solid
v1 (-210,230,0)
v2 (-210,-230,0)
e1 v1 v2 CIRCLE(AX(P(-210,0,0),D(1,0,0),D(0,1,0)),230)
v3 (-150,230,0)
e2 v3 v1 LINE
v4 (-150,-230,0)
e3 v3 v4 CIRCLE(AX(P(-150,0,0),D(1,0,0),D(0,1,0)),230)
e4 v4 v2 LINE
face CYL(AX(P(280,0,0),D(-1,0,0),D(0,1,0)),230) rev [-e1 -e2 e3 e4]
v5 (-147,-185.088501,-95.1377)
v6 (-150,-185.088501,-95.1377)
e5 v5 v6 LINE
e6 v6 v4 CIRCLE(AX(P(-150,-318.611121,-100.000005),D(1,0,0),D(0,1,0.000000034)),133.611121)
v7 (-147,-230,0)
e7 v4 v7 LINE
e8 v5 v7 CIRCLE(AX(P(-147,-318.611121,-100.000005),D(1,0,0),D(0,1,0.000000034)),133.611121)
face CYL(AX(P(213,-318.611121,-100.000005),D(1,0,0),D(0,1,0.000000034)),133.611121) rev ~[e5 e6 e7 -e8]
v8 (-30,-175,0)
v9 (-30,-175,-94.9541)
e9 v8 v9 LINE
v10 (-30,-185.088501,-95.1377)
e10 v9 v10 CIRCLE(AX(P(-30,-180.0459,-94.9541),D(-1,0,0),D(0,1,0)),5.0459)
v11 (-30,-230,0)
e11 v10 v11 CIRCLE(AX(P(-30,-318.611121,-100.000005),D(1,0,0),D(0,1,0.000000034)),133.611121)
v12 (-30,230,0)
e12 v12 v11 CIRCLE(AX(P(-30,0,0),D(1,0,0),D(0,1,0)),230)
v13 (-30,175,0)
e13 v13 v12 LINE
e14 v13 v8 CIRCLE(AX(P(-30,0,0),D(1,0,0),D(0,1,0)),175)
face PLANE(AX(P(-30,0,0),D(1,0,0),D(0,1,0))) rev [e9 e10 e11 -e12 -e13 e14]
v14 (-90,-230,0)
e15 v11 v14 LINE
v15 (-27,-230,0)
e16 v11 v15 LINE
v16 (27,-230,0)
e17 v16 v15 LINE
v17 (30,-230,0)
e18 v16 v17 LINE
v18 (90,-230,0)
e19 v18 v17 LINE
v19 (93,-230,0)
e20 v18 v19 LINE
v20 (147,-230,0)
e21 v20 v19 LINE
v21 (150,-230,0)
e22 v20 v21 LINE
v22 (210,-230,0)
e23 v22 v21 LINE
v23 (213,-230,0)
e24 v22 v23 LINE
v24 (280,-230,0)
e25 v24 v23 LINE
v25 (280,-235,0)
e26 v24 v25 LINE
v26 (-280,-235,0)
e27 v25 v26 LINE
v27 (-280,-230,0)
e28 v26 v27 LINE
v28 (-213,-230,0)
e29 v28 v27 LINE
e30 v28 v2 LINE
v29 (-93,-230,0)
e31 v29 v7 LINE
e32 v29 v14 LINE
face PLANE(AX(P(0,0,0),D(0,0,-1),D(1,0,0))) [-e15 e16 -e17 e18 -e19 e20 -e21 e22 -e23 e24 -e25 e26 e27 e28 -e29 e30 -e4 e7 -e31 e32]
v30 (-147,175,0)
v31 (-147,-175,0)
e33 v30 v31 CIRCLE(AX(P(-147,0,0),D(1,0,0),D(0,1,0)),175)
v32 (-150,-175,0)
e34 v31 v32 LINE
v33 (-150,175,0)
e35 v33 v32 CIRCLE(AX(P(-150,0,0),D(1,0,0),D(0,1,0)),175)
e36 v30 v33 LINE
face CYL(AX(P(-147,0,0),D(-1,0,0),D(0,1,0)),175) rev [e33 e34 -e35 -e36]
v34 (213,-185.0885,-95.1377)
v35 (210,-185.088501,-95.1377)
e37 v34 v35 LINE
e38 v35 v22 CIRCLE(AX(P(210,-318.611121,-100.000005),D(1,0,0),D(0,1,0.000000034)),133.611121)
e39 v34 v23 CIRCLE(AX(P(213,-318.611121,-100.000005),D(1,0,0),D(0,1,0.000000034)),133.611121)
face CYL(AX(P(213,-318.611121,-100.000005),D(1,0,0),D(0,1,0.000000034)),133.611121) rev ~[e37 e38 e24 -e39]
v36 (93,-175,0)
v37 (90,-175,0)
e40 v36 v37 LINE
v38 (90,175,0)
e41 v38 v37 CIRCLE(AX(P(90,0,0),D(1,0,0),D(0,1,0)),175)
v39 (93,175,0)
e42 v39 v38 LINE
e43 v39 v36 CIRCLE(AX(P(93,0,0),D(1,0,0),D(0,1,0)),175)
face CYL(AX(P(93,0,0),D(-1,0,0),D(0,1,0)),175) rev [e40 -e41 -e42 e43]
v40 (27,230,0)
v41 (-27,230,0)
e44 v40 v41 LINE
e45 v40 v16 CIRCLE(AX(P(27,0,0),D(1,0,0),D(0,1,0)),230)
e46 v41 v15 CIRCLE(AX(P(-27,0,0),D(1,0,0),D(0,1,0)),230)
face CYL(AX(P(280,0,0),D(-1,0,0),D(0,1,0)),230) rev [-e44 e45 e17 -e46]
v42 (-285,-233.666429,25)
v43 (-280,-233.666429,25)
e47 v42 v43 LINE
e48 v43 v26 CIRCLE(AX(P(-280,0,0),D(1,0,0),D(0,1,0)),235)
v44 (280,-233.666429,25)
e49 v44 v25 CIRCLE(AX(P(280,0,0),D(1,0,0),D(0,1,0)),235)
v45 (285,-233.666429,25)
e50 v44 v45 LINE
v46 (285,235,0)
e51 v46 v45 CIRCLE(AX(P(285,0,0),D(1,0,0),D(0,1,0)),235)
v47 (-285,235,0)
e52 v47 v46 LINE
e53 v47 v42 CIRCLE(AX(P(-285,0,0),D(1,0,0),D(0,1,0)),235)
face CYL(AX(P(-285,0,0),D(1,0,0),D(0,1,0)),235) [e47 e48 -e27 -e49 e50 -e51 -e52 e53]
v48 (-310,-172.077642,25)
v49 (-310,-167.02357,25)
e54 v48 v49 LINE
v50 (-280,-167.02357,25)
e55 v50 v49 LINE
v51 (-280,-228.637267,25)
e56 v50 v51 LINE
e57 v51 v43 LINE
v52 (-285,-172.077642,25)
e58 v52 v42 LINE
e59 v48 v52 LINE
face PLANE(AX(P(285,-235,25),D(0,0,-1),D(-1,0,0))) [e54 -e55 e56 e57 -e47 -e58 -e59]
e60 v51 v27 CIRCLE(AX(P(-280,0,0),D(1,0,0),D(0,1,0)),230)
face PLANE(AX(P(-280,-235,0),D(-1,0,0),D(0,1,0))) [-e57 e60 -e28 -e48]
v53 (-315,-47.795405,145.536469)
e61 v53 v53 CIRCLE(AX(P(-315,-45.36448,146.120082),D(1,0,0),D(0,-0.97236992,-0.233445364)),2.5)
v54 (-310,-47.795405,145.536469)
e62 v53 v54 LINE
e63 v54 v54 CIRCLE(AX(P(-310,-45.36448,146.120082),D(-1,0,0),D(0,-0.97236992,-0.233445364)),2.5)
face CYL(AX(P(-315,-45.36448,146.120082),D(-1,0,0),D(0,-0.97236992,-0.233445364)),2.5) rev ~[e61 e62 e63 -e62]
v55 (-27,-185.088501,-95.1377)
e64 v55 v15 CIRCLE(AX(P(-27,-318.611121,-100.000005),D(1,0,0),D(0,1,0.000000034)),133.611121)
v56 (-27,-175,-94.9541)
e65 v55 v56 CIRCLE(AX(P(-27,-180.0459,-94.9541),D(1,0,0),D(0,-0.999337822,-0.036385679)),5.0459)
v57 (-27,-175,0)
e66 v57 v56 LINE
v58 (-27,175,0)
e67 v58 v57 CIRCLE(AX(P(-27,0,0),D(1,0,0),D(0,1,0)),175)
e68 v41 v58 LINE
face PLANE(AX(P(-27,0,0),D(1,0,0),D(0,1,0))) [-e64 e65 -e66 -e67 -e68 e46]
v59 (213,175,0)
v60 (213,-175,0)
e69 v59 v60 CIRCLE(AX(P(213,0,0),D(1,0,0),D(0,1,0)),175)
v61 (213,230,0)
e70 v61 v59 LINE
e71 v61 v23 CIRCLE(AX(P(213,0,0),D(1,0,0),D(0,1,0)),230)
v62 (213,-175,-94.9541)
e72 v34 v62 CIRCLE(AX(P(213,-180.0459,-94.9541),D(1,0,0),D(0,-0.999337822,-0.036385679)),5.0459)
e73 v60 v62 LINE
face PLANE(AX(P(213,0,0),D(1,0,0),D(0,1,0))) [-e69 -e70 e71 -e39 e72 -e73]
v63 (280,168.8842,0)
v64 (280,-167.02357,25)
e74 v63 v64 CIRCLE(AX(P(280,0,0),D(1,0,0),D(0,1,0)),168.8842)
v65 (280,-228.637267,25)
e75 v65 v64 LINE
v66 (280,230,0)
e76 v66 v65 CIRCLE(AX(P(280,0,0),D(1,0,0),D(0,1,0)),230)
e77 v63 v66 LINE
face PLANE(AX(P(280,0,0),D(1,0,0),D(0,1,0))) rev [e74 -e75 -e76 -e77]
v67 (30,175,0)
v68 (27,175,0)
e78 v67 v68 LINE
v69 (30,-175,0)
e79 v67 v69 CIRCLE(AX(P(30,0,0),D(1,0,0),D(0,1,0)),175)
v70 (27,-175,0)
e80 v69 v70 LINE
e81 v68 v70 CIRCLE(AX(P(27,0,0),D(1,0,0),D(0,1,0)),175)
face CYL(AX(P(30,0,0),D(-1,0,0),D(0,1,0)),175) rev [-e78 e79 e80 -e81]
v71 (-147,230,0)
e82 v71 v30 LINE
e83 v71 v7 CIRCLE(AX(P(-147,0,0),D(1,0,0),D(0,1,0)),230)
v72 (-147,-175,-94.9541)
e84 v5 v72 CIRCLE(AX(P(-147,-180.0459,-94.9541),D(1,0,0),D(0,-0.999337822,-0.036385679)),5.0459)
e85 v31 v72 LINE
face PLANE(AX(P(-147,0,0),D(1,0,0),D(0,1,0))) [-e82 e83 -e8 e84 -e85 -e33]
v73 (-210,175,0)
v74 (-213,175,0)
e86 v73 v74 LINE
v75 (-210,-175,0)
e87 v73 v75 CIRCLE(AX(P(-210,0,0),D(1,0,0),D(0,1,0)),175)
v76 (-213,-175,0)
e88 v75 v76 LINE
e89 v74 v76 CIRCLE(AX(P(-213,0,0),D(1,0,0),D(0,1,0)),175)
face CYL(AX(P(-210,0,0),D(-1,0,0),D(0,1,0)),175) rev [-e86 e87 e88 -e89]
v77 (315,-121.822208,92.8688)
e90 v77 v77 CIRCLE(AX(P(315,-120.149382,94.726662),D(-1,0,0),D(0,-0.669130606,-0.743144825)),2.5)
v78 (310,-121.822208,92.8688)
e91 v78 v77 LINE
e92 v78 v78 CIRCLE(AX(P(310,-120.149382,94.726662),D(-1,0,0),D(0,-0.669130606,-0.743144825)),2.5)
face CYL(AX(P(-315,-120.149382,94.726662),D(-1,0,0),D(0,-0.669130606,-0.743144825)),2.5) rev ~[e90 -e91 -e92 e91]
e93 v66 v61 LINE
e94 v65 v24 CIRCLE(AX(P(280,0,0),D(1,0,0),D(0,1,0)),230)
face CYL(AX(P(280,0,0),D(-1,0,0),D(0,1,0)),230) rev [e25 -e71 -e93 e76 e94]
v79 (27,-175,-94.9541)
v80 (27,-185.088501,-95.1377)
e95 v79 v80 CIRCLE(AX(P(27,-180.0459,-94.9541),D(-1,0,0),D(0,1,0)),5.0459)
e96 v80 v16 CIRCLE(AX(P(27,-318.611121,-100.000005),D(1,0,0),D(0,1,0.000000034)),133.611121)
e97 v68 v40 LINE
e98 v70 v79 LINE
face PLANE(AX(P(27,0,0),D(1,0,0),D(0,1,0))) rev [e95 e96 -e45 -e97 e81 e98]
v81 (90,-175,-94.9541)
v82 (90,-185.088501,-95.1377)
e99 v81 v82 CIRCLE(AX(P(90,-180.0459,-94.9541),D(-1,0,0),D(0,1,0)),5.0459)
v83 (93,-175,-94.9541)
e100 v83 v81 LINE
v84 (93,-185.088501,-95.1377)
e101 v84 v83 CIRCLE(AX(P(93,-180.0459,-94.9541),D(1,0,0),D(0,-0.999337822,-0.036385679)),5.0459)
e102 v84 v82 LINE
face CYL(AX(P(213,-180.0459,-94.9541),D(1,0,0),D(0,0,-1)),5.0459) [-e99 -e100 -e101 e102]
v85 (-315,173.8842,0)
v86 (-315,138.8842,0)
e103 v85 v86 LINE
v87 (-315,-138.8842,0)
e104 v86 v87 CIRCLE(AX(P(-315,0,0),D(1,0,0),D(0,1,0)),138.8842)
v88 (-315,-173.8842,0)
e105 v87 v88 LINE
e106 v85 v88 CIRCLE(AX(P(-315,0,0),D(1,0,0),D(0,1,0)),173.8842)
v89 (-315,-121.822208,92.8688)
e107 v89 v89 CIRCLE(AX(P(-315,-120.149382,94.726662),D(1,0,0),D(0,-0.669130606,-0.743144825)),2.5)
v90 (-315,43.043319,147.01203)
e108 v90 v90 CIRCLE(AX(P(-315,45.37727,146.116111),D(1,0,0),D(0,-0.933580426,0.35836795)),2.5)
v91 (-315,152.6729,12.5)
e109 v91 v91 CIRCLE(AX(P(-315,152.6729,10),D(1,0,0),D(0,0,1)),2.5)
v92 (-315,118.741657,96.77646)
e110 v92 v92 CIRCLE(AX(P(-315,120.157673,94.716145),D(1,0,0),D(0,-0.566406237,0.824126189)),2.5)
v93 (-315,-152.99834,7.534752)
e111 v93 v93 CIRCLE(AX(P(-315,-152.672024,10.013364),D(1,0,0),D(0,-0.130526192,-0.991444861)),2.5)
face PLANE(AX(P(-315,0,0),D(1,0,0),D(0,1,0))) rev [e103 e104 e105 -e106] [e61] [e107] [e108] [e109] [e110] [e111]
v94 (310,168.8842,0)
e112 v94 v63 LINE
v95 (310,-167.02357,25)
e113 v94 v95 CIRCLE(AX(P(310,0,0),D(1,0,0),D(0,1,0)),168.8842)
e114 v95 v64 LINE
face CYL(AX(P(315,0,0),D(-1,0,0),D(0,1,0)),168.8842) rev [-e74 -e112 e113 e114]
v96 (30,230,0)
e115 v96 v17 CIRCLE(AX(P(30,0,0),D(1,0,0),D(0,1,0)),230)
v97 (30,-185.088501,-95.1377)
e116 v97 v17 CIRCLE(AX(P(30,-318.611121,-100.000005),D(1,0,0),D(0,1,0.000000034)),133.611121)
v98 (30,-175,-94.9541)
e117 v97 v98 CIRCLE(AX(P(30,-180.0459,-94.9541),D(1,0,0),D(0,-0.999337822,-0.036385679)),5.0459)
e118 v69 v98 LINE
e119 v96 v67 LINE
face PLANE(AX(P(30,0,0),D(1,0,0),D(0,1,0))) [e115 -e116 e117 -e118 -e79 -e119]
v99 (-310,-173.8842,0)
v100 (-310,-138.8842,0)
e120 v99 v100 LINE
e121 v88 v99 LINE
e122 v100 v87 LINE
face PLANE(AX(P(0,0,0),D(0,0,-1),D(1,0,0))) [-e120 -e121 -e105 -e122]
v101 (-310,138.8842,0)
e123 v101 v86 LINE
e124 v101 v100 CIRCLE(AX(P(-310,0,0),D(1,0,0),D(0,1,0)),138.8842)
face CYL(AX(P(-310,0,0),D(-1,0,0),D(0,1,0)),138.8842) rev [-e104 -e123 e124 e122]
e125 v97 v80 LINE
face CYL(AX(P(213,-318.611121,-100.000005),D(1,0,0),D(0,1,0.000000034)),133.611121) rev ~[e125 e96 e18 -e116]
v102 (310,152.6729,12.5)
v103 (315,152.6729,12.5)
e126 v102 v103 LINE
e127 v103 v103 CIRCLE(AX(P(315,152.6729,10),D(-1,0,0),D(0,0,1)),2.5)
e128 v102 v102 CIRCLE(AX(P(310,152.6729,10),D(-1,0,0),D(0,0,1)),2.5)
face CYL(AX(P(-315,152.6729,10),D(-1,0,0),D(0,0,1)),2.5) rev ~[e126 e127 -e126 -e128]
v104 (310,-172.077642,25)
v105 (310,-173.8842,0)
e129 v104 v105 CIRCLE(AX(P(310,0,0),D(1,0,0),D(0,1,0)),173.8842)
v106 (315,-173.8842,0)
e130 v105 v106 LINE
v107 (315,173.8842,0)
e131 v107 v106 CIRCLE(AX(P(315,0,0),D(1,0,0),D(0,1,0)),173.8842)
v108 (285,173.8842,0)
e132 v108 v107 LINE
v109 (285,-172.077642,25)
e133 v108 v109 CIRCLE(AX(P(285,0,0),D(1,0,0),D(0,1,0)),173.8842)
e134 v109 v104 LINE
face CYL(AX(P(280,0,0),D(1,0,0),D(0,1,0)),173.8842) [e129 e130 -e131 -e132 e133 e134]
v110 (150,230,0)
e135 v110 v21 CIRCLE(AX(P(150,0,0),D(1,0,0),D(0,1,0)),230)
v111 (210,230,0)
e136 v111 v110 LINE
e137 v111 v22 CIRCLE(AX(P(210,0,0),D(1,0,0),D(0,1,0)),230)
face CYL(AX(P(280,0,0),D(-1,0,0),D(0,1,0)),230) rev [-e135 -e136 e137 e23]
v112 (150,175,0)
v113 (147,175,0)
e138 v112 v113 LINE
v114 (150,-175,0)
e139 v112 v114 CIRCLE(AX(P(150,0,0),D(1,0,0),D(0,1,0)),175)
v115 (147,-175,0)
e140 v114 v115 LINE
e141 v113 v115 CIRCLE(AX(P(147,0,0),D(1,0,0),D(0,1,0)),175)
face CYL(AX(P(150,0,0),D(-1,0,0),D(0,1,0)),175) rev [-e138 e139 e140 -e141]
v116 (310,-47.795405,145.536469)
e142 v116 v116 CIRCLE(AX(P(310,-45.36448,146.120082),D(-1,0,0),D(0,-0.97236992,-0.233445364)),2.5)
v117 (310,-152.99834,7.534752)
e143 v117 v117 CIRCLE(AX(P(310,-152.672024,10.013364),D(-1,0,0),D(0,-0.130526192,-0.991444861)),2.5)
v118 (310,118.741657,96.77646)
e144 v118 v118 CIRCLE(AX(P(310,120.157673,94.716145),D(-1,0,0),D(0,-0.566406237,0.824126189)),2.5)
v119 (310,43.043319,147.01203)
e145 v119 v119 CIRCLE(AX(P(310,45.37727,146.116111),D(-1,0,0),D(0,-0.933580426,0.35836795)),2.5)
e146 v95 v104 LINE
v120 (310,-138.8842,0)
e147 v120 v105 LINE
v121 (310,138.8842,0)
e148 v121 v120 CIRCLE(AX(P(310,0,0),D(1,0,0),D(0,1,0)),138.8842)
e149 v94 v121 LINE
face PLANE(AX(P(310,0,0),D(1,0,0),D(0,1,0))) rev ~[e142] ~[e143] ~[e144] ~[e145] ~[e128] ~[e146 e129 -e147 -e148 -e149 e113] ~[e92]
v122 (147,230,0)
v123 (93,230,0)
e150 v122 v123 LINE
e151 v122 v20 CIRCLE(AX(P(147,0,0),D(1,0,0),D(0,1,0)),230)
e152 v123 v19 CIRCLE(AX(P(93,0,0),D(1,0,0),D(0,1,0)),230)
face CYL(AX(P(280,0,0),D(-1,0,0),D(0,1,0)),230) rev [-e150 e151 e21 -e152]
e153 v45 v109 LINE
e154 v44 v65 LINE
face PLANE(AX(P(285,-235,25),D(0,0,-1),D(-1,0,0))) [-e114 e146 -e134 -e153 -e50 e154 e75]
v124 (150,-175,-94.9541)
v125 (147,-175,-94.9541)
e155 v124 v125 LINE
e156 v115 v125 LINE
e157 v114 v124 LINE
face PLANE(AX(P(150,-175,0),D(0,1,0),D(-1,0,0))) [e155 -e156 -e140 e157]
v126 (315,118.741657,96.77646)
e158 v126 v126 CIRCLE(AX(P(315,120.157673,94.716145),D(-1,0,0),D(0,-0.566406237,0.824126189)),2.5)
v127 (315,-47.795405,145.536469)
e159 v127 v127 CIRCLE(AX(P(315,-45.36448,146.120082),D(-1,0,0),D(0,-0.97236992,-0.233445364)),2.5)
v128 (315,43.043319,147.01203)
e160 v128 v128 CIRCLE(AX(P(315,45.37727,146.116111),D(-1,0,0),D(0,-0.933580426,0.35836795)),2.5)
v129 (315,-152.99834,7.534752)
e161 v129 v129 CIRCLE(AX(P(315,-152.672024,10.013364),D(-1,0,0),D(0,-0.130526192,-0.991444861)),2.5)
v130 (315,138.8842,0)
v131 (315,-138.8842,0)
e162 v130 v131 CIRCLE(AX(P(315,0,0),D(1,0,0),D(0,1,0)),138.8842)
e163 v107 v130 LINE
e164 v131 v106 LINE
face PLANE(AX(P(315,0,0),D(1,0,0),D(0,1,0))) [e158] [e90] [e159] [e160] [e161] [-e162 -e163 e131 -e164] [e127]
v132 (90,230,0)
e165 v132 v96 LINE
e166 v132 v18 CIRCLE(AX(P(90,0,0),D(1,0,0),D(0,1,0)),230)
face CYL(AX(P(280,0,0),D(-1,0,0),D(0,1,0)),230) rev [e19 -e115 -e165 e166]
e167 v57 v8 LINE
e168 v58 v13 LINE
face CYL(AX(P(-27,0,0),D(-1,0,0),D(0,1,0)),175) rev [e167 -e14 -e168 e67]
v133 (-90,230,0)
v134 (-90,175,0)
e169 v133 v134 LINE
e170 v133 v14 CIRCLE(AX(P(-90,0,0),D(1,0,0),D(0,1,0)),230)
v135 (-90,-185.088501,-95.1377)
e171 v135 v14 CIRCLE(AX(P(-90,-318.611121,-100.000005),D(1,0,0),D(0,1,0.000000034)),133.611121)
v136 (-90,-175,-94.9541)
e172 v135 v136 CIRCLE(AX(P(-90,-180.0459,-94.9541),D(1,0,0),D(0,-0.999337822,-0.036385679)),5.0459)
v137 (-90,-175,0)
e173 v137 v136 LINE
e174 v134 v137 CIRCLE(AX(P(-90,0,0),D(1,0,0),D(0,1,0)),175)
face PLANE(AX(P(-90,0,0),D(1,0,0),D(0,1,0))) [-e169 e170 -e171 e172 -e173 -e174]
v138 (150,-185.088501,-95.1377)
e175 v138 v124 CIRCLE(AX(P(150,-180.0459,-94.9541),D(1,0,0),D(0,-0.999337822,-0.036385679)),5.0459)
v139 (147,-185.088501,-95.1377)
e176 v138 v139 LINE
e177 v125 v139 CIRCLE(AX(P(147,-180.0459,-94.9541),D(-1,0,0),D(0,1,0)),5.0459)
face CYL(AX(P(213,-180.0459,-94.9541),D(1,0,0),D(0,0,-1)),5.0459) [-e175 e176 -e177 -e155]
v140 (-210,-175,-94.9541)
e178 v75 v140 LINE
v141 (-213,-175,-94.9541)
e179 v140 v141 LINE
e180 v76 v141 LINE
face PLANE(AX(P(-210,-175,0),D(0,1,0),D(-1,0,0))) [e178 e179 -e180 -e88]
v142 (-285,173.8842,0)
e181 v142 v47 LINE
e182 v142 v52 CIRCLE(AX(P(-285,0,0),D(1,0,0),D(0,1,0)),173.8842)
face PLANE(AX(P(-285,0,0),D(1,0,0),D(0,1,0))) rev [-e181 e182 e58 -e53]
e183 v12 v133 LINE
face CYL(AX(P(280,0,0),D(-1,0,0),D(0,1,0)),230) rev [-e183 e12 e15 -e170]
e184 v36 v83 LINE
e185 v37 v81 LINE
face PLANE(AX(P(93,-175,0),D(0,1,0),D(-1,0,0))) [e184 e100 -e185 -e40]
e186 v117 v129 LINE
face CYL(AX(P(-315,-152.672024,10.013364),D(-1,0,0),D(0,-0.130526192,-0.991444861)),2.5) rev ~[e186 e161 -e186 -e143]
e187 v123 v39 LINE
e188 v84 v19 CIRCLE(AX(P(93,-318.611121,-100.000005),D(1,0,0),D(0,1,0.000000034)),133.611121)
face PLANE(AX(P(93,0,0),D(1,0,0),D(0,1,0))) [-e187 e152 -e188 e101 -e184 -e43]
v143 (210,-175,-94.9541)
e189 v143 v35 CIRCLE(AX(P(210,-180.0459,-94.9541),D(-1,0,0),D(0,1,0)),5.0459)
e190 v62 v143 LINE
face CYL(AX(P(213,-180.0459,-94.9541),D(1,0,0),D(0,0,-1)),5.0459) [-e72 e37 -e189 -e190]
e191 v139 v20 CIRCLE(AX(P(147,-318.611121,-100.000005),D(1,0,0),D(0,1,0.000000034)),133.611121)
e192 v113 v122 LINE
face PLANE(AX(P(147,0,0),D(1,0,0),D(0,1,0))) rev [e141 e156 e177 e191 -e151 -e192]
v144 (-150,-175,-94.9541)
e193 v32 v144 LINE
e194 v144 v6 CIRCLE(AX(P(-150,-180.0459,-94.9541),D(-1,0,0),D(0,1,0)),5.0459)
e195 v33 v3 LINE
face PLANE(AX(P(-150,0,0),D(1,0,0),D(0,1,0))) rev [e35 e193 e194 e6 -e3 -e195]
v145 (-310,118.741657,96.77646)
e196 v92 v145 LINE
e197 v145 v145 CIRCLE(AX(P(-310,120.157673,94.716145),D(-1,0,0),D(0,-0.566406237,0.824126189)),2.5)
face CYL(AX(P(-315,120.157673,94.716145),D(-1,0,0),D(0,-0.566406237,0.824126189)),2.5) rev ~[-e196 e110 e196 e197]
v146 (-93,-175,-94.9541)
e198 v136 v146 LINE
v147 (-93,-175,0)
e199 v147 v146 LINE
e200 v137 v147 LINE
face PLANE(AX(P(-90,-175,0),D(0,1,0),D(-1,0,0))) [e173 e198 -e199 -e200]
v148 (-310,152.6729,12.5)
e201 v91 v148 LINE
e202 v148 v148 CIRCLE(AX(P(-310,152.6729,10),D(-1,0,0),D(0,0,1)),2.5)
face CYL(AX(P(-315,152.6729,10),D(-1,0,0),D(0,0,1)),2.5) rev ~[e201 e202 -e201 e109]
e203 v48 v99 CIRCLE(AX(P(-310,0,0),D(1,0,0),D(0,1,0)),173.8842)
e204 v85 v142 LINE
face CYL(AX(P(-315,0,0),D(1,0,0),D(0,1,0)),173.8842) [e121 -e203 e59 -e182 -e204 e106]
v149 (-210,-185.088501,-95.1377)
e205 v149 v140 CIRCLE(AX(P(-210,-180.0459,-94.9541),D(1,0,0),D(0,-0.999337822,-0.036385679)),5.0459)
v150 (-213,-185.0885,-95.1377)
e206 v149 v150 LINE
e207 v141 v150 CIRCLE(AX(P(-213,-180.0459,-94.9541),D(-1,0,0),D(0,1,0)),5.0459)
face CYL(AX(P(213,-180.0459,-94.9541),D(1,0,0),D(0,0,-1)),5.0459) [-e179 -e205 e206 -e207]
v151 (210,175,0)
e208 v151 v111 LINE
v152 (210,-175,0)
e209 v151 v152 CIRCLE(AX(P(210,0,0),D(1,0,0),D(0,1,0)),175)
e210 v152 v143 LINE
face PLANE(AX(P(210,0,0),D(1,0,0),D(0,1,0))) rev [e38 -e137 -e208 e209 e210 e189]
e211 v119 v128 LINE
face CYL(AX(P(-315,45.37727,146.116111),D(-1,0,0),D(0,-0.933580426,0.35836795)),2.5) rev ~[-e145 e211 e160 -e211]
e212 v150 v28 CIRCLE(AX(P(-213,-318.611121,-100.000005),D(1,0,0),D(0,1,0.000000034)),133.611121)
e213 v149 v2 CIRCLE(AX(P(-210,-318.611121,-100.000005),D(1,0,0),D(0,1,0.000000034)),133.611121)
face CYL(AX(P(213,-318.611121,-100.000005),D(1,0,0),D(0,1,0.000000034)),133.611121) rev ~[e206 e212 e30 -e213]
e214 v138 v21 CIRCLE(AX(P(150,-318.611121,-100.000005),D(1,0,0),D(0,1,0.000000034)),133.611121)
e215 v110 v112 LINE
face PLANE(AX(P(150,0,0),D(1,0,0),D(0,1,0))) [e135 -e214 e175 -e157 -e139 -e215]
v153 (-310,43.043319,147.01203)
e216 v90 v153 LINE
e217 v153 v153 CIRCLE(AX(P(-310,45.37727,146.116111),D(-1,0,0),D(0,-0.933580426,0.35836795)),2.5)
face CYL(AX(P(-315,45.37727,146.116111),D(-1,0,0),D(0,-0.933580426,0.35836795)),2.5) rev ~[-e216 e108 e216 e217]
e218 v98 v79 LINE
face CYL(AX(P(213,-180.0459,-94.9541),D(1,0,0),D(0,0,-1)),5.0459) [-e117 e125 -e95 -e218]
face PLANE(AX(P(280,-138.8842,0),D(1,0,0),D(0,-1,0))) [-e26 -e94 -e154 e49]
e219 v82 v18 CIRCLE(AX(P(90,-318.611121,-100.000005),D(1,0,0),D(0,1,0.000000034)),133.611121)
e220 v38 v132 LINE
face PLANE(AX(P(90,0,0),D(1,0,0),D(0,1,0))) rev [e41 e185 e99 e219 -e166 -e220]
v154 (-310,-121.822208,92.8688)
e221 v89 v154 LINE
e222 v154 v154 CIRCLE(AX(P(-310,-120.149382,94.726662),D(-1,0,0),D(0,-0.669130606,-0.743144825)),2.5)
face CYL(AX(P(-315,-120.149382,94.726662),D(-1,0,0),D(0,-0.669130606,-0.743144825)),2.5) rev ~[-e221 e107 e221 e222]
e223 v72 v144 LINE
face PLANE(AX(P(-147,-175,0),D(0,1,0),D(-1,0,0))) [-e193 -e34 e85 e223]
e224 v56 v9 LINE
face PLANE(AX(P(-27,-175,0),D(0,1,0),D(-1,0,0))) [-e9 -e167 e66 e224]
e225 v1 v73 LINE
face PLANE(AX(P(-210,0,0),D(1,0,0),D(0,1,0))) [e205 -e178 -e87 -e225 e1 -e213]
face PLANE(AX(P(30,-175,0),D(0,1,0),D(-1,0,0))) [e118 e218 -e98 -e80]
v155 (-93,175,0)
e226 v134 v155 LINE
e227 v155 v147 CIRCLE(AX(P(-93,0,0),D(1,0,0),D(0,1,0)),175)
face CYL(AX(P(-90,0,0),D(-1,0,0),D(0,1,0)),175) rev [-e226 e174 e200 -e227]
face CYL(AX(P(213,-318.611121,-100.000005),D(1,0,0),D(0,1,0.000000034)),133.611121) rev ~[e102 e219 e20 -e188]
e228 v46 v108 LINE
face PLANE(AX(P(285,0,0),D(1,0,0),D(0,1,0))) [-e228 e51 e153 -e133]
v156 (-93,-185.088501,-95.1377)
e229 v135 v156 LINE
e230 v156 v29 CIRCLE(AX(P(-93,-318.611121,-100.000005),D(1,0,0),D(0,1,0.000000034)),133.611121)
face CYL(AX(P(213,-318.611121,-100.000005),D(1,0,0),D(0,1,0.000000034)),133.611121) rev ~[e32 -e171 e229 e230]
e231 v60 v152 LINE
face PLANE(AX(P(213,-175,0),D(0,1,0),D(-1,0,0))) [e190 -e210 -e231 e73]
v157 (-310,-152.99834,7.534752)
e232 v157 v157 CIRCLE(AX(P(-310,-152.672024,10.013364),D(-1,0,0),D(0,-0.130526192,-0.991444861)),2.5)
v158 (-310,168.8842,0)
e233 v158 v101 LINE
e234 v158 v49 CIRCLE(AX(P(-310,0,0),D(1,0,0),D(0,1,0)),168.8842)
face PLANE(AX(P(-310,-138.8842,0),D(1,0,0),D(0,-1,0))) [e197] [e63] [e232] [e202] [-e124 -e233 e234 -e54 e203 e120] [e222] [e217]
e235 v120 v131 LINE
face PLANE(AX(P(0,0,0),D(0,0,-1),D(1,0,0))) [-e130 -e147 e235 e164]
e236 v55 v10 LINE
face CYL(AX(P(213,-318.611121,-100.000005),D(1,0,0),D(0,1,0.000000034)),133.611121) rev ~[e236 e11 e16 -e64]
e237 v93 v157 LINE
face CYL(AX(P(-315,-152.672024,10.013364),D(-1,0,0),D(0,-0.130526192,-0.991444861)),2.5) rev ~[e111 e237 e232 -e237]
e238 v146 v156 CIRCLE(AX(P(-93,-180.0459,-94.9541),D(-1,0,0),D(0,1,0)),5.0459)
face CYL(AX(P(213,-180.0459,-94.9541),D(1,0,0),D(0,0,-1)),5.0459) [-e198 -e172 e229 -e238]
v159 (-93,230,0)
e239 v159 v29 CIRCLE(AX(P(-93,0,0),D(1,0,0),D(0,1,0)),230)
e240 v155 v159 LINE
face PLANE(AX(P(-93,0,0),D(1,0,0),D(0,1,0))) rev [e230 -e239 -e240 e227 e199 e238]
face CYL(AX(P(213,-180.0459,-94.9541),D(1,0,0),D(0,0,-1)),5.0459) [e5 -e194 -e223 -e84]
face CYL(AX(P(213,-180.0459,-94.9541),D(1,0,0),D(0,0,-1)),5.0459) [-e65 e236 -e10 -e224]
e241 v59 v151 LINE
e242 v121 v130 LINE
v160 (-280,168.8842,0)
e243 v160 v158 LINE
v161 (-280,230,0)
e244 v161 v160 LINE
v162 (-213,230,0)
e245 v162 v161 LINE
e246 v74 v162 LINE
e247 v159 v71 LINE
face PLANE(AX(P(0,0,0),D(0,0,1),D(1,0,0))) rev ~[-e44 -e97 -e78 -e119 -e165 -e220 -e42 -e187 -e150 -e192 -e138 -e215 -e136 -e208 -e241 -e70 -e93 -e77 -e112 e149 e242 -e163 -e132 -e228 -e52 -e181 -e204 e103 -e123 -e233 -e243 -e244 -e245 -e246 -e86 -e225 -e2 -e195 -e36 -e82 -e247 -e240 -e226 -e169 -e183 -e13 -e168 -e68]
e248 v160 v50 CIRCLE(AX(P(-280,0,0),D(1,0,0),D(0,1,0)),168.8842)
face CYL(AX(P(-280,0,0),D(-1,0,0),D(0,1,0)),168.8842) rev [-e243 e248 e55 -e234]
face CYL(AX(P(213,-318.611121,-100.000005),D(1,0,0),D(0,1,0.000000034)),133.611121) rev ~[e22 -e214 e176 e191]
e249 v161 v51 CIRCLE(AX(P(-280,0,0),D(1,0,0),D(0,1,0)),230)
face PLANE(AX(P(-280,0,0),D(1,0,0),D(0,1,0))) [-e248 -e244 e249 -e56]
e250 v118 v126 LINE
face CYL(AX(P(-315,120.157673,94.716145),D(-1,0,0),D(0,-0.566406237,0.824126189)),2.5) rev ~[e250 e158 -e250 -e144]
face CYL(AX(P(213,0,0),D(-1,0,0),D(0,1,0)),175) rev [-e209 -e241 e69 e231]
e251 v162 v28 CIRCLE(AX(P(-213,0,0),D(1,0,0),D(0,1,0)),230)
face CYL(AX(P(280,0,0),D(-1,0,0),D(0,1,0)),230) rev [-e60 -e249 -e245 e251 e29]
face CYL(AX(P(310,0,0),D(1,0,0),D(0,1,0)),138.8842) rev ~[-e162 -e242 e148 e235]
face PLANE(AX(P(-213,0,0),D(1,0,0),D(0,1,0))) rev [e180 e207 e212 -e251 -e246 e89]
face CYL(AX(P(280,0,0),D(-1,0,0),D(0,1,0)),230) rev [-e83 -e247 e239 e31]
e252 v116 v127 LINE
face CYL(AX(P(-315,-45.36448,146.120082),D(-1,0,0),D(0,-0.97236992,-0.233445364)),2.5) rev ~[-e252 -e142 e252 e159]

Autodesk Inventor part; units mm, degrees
ref_plane "YZ Plane" through (0, 0, 0) normal (1, 0, 0) x (0, 1, 0)
ref_plane "XZ Plane" through (0, 0, 0) normal (0, 1, 0) x (-1, 0, 0)
ref_plane "XY Plane" through (0, 0, 0) normal (0, 0, 1) x (1, 0, 0)
sketch "草图1" plane through (0, 0, 0) normal (0, 0, 1) x (1, 0, 0)
  circle A0 centre (0, 0) radius 141.3842
  line L0 (50, 166.3842) -> (50, 141.3842)
  line L1 (50, 141.3842) -> (-50, 141.3842)
  line L2 (-50, 141.3842) -> (-50, 166.3842)
  line L3 (-57.3473, 163.9969) -> (-42.6527, 143.7715)
  line L4 (-42.6527, 143.7715) -> (-123.5544, 84.9929)
  line L5 (-123.5544, 84.9929) -> (-138.249, 105.2184)
  line L6 (-142.7899, 98.9684) -> (-119.0135, 91.2429)
  line L7 (-119.0135, 91.2429) -> (-149.9152, -3.8627)
  line L8 (-149.9152, -3.8627) -> (-173.6916, 3.8627)
  line L9 (-173.6916, -3.8627) -> (-149.9152, 3.8627)
  line L10 (-149.9152, 3.8627) -> (-119.0135, -91.2429)
  line L11 (-119.0135, -91.2429) -> (-142.7899, -98.9684)
  line L12 (-138.249, -105.2184) -> (-123.5544, -84.9929)
  line L13 (-123.5544, -84.9929) -> (-42.6527, -143.7715)
  line L14 (-42.6527, -143.7715) -> (-57.3473, -163.9969)
  line L15 (-50, -166.3842) -> (-50, -141.3842)
  line L16 (-50, -141.3842) -> (50, -141.3842)
  line L17 (50, -141.3842) -> (50, -166.3842)
  line L18 (57.3473, -163.9969) -> (42.6527, -143.7715)
  line L19 (42.6527, -143.7715) -> (123.5544, -84.9929)
  line L20 (123.5544, -84.9929) -> (138.249, -105.2184)
  line L21 (142.7899, -98.9684) -> (119.0135, -91.2429)
  line L22 (119.0135, -91.2429) -> (149.9152, 3.8627)
  line L23 (149.9152, 3.8627) -> (173.6916, -3.8627)
  line L24 (173.6916, 3.8627) -> (149.9152, -3.8627)
  line L25 (149.9152, -3.8627) -> (119.0135, 91.2429)
  line L26 (119.0135, 91.2429) -> (142.7899, 98.9684)
  line L27 (138.249, 105.2184) -> (123.5544, 84.9929)
  line L28 (123.5544, 84.9929) -> (42.6527, 143.7715)
  line L29 (42.6527, 143.7715) -> (57.3473, 163.9969)
  line L30 (11.529, 166.3842) -> (50, 166.3842)
  line L31 (-315, 173.8842) -> (-280, 173.8842)
  line L32 (-280, 173.8842) -> (-280, 168.8842)
  line L33 (-280, 168.8842) -> (-315, 168.8842)
  line L34 (-315, 168.8842) -> (-315, 173.8842)
  line L35 (-315, 168.8842) -> (-310, 168.8842)
  line L36 (-310, 168.8842) -> (-310, 138.8842)
  line L37 (-310, 138.8842) -> (-315, 138.8842)
  line L38 (-315, 138.8842) -> (-315, 168.8842)
  line L39 (-280, 173.8842) -> (-285, 173.8842)
  line L40 (-285, 173.8842) -> (-285, 235)
  line L41 (-285, 235) -> (-280, 235)
  line L42 (-280, 235) -> (-280, 173.8842)
  line L43 (-280, 235) -> (280, 235)
  line L44 (280, 235) -> (280, 230)
  line L45 (280, 230) -> (-280, 230)
  line L46 (-280, 230) -> (-280, 235)
  line L47 (280, 235) -> (285, 235)
  line L48 (285, 235) -> (285, 173.8842)
  line L49 (285, 173.8842) -> (280, 173.8842)
  line L50 (280, 173.8842) -> (280, 235)
  line L51 (280, 173.8842) -> (315, 173.8842)
  line L52 (315, 173.8842) -> (315, 168.8842)
  line L53 (315, 168.8842) -> (280, 168.8842)
  line L54 (280, 168.8842) -> (280, 173.8842)
  line L55 (315, 168.8842) -> (310, 168.8842)
  line L56 (310, 168.8842) -> (310, 138.8842)
  line L57 (310, 138.8842) -> (315, 138.8842)
  line L58 (315, 138.8842) -> (315, 168.8842)
  line L59 (-213, 230) -> (-210, 230)
  line L60 (-210, 230) -> (-210, 175)
  line L61 (-210, 175) -> (-213, 175)
  line L62 (-213, 175) -> (-213, 230)
  line L63 (-150, 230) -> (-147, 230)
  line L64 (-147, 230) -> (-147, 175)
  line L65 (-147, 175) -> (-150, 175)
  line L66 (-150, 175) -> (-150, 230)
  line L67 (-93, 230) -> (-90, 230)
  line L68 (-90, 230) -> (-90, 175)
  line L69 (-90, 175) -> (-93, 175)
  line L70 (-93, 175) -> (-93, 230)
  line L71 (-30, 230) -> (-27, 230)
  line L72 (-27, 230) -> (-27, 175)
  line L73 (-27, 175) -> (-30, 175)
  line L74 (-30, 175) -> (-30, 230)
  line L75 (27, 230) -> (30, 230)
  line L76 (30, 230) -> (30, 175)
  line L77 (30, 175) -> (27, 175)
  line L78 (27, 175) -> (27, 230)
  line L79 (90, 230) -> (93, 230)
  line L80 (93, 230) -> (93, 175)
  line L81 (93, 175) -> (90, 175)
  line L82 (90, 175) -> (90, 230)
  line L83 (147, 230) -> (150, 230)
  line L84 (150, 230) -> (150, 175)
  line L85 (150, 175) -> (147, 175)
  line L86 (147, 175) -> (147, 230)
  line L87 (210, 230) -> (213, 230)
  line L88 (213, 230) -> (213, 175)
  line L89 (213, 175) -> (210, 175)
  line L90 (210, 175) -> (210, 230)
  line L91 (-441, 0) -> (441, 0) projected
  point P0 (0, 141.3842)
  point P1 (-83.1035, 114.3822)
  point P2 (-134.4643, 43.6901)
  point P3 (-134.4643, -43.6901)
  point P4 (-83.1035, -114.3822)
  point P5 (0, -141.3842)
  point P6 (83.1035, -114.3822)
  point P7 (134.4643, -43.6901)
  point P8 (134.4643, 43.6901)
  point P9 (83.1035, 114.3822)
  point P10 (50, 153.8842)
  dimension "d0" = 100
  dimension "d1" = 25
  dimension "d4" = 360
  dimension "d6" = 35
  dimension "d7" = 2.5
  dimension "d8" = 5
  dimension "d9" = 280
  dimension "d10" = 5
  dimension "d11" = 30
  dimension "d12" = 5
  dimension "d13" = 235
  dimension "d14" = 560
  dimension "d15" = 5
  dimension "d16" = 5
  dimension "d17" = 35
  dimension "d18" = 5
  dimension "d19" = 5
  dimension "d20" = 3
  dimension "d21" = 210
  dimension "d22" = 3
  dimension "d23" = 60
  dimension "d24" = 55
  dimension "d25" = 3
  dimension "d26" = 3
  dimension "d27" = 3
  dimension "d28" = 3
  dimension "d29" = 3
  dimension "d30" = 3
  dimension "d31" = 120
  dimension "d32" = 60
  dimension "d33" = 120
  dimension "d34" = 60
  dimension "d35" = 120
  dimension "d36" = 60
revolve "旋转1" add sketch "草图1" angle 180 about axis through (-10, 0, 0) along (1, 0, 0) contours L31 L32 L33 L34 | L40 L41 L42 L31 | L33 L36 L37 L38 | L42 L43 L44 L45 | L45 L60 L61 L62 | L47 L48 L49 L50 L44 | L45 L64 L65 L66 | L88 L89 L90 L45 | L49 L51 L52 L53 L54 | L45 L68 L69 L70 | L84 L85 L86 L45 | L53 L58 L57 L56 | L45 L72 L73 L74 | L80 L81 L82 L45 | L45 L76 L77 L78
sketch "草图2" plane through (-315, 138.8842, 0) normal (-1, 0, 0) x (0, 0, 1)
  circle A0 centre (10, 13.7887) radius 2.5
  arc A1 (27.2318, 11.6729) -> (10, 13.7887) centre (0, -138.8842) ccw
  arc A2 (0, -277.7684) -> (0, 0) centre (0, -138.8842) ccw projected
  line L0 (0, 35) -> (0, 0) projected
  line L1 (10, 13.7887) -> (0, -138.8842)
  point P0 (0, -138.8842)
  dimension "d38" = 5
  dimension "d39" = 153
  dimension "d40" = 10
extrude "拉伸1" cut sketch "草图2" against normal through all
pattern_circular "环形阵列1" count 6 over 172.5 about axis through (-312.5, 0, 0) along (1, 0, 0) of "拉伸1"
sketch "草图3" plane through (285, -235, 0) normal (0, 0, -1) x (-1, 0, 0)
  line L0 (72, 60) -> (75, 60)
  line L1 (75, 60) -> (75, 5)
  line L2 (75, 5) -> (72, 5)
  line L3 (72, 5) -> (72, 60)
  line L4 (135, 60) -> (138, 60)
  line L5 (138, 60) -> (138, 5)
  line L6 (138, 5) -> (135, 5)
  line L7 (135, 5) -> (135, 60)
  line L8 (192, 60) -> (195, 60)
  line L9 (195, 60) -> (195, 5)
  line L10 (195, 5) -> (192, 5)
  line L11 (192, 5) -> (192, 60)
  line L12 (255, 60) -> (258, 60)
  line L13 (258, 60) -> (258, 5)
  line L14 (258, 5) -> (255, 5)
  line L15 (255, 5) -> (255, 60)
  line L16 (312, 60) -> (315, 60)
  line L17 (315, 60) -> (315, 5)
  line L18 (315, 5) -> (312, 5)
  line L19 (312, 5) -> (312, 60)
  line L20 (375, 60) -> (378, 60)
  line L21 (378, 60) -> (378, 5)
  line L22 (378, 5) -> (375, 5)
  line L23 (375, 5) -> (375, 60)
  line L24 (432, 60) -> (435, 60)
  line L25 (435, 60) -> (435, 5)
  line L26 (435, 5) -> (432, 5)
  line L27 (432, 5) -> (432, 60)
  line L28 (495, 60) -> (498, 60)
  line L29 (498, 60) -> (498, 5)
  line L30 (498, 5) -> (495, 5)
  line L31 (495, 5) -> (495, 60)
  line L32 (565, 5) -> (498, 5) projected
  line L33 (498, 5) -> (498, 60) projected
  line L34 (135, 60) -> (135, 5) projected
  point P0 (285, 235)
extrude "拉伸2" add sketch "草图3" along normal blind 100
sketch "草图4" plane through (213, 175, 0) normal (1, 0, 0) x (0, 0, -1)
  line L0 (100, -405) -> (100, -350) projected
  arc A0 (100, -360) -> (0, -405) centre (100, -493.6111) ccw
  line L1 (0, -405) -> (100, -405)
  line L2 (0, -410) -> (0, -348.8842) projected
  line L3 (100, -360) -> (100, -405)
  point P0 (0, -175)
  dimension "d48" = 10
extrude "拉伸3" cut sketch "草图4" against normal up to surface (426 mm away)
sketch "草图5" plane through (213, 175, 0) normal (1, 0, 0) x (0, 0, -1)
  circle A0 centre (94.9541, -355.0459) radius 5.0459
  line L0 (0, -350) -> (100, -350) projected
  line L1 (100, -350) -> (100, -360) projected
  arc A1 (100, -360) -> (0, -405) centre (100, -493.6111) ccw projected
  line L2 (94.9541, -350) -> (100, -350)
  line L3 (100, -350.2573) -> (100, -360)
  arc A2 (100, -360) -> (95.1377, -360.0885) centre (100, -493.6111) ccw
  point P0 (0, -175)
extrude "拉伸4" cut sketch "草图5" against normal up to surface (426 mm away) contours L1 A1 A0 | A0 L0 L1
sketch "草图6" plane through (285, -235, 0) normal (0, 0, -1) x (-1, 0, 0)
  line L0 (595, 0) -> (565, 0)
  line L1 (565, 0) -> (565, 96.1158)
  line L2 (565, 96.1158) -> (595, 96.1158)
  line L3 (595, 96.1158) -> (595, 0)
  line L4 (595, 96.1158) -> (595, 66.1158) projected
  line L5 (565, 66.1158) -> (565, 5) projected
  line L6 (0, 0) -> (570, 0) projected
  line L7 (600, 96.1158) -> (595, 96.1158) projected
  line L8 (-25, 96.1158) -> (5, 96.1158)
  line L9 (5, 96.1158) -> (5, 0)
  line L10 (5, 0) -> (-25, 0)
  line L11 (-25, 0) -> (-25, 96.1158)
  line L12 (-25, 66.1158) -> (-25, 96.1158) projected
  line L13 (-25, 96.1158) -> (-30, 96.1158) projected
  line L14 (5, 5) -> (5, 66.1158) projected
  point P0 (285, 235)
extrude "拉伸5" cut sketch "草图6" against normal blind 25
properties part number "主动轮护盖"
